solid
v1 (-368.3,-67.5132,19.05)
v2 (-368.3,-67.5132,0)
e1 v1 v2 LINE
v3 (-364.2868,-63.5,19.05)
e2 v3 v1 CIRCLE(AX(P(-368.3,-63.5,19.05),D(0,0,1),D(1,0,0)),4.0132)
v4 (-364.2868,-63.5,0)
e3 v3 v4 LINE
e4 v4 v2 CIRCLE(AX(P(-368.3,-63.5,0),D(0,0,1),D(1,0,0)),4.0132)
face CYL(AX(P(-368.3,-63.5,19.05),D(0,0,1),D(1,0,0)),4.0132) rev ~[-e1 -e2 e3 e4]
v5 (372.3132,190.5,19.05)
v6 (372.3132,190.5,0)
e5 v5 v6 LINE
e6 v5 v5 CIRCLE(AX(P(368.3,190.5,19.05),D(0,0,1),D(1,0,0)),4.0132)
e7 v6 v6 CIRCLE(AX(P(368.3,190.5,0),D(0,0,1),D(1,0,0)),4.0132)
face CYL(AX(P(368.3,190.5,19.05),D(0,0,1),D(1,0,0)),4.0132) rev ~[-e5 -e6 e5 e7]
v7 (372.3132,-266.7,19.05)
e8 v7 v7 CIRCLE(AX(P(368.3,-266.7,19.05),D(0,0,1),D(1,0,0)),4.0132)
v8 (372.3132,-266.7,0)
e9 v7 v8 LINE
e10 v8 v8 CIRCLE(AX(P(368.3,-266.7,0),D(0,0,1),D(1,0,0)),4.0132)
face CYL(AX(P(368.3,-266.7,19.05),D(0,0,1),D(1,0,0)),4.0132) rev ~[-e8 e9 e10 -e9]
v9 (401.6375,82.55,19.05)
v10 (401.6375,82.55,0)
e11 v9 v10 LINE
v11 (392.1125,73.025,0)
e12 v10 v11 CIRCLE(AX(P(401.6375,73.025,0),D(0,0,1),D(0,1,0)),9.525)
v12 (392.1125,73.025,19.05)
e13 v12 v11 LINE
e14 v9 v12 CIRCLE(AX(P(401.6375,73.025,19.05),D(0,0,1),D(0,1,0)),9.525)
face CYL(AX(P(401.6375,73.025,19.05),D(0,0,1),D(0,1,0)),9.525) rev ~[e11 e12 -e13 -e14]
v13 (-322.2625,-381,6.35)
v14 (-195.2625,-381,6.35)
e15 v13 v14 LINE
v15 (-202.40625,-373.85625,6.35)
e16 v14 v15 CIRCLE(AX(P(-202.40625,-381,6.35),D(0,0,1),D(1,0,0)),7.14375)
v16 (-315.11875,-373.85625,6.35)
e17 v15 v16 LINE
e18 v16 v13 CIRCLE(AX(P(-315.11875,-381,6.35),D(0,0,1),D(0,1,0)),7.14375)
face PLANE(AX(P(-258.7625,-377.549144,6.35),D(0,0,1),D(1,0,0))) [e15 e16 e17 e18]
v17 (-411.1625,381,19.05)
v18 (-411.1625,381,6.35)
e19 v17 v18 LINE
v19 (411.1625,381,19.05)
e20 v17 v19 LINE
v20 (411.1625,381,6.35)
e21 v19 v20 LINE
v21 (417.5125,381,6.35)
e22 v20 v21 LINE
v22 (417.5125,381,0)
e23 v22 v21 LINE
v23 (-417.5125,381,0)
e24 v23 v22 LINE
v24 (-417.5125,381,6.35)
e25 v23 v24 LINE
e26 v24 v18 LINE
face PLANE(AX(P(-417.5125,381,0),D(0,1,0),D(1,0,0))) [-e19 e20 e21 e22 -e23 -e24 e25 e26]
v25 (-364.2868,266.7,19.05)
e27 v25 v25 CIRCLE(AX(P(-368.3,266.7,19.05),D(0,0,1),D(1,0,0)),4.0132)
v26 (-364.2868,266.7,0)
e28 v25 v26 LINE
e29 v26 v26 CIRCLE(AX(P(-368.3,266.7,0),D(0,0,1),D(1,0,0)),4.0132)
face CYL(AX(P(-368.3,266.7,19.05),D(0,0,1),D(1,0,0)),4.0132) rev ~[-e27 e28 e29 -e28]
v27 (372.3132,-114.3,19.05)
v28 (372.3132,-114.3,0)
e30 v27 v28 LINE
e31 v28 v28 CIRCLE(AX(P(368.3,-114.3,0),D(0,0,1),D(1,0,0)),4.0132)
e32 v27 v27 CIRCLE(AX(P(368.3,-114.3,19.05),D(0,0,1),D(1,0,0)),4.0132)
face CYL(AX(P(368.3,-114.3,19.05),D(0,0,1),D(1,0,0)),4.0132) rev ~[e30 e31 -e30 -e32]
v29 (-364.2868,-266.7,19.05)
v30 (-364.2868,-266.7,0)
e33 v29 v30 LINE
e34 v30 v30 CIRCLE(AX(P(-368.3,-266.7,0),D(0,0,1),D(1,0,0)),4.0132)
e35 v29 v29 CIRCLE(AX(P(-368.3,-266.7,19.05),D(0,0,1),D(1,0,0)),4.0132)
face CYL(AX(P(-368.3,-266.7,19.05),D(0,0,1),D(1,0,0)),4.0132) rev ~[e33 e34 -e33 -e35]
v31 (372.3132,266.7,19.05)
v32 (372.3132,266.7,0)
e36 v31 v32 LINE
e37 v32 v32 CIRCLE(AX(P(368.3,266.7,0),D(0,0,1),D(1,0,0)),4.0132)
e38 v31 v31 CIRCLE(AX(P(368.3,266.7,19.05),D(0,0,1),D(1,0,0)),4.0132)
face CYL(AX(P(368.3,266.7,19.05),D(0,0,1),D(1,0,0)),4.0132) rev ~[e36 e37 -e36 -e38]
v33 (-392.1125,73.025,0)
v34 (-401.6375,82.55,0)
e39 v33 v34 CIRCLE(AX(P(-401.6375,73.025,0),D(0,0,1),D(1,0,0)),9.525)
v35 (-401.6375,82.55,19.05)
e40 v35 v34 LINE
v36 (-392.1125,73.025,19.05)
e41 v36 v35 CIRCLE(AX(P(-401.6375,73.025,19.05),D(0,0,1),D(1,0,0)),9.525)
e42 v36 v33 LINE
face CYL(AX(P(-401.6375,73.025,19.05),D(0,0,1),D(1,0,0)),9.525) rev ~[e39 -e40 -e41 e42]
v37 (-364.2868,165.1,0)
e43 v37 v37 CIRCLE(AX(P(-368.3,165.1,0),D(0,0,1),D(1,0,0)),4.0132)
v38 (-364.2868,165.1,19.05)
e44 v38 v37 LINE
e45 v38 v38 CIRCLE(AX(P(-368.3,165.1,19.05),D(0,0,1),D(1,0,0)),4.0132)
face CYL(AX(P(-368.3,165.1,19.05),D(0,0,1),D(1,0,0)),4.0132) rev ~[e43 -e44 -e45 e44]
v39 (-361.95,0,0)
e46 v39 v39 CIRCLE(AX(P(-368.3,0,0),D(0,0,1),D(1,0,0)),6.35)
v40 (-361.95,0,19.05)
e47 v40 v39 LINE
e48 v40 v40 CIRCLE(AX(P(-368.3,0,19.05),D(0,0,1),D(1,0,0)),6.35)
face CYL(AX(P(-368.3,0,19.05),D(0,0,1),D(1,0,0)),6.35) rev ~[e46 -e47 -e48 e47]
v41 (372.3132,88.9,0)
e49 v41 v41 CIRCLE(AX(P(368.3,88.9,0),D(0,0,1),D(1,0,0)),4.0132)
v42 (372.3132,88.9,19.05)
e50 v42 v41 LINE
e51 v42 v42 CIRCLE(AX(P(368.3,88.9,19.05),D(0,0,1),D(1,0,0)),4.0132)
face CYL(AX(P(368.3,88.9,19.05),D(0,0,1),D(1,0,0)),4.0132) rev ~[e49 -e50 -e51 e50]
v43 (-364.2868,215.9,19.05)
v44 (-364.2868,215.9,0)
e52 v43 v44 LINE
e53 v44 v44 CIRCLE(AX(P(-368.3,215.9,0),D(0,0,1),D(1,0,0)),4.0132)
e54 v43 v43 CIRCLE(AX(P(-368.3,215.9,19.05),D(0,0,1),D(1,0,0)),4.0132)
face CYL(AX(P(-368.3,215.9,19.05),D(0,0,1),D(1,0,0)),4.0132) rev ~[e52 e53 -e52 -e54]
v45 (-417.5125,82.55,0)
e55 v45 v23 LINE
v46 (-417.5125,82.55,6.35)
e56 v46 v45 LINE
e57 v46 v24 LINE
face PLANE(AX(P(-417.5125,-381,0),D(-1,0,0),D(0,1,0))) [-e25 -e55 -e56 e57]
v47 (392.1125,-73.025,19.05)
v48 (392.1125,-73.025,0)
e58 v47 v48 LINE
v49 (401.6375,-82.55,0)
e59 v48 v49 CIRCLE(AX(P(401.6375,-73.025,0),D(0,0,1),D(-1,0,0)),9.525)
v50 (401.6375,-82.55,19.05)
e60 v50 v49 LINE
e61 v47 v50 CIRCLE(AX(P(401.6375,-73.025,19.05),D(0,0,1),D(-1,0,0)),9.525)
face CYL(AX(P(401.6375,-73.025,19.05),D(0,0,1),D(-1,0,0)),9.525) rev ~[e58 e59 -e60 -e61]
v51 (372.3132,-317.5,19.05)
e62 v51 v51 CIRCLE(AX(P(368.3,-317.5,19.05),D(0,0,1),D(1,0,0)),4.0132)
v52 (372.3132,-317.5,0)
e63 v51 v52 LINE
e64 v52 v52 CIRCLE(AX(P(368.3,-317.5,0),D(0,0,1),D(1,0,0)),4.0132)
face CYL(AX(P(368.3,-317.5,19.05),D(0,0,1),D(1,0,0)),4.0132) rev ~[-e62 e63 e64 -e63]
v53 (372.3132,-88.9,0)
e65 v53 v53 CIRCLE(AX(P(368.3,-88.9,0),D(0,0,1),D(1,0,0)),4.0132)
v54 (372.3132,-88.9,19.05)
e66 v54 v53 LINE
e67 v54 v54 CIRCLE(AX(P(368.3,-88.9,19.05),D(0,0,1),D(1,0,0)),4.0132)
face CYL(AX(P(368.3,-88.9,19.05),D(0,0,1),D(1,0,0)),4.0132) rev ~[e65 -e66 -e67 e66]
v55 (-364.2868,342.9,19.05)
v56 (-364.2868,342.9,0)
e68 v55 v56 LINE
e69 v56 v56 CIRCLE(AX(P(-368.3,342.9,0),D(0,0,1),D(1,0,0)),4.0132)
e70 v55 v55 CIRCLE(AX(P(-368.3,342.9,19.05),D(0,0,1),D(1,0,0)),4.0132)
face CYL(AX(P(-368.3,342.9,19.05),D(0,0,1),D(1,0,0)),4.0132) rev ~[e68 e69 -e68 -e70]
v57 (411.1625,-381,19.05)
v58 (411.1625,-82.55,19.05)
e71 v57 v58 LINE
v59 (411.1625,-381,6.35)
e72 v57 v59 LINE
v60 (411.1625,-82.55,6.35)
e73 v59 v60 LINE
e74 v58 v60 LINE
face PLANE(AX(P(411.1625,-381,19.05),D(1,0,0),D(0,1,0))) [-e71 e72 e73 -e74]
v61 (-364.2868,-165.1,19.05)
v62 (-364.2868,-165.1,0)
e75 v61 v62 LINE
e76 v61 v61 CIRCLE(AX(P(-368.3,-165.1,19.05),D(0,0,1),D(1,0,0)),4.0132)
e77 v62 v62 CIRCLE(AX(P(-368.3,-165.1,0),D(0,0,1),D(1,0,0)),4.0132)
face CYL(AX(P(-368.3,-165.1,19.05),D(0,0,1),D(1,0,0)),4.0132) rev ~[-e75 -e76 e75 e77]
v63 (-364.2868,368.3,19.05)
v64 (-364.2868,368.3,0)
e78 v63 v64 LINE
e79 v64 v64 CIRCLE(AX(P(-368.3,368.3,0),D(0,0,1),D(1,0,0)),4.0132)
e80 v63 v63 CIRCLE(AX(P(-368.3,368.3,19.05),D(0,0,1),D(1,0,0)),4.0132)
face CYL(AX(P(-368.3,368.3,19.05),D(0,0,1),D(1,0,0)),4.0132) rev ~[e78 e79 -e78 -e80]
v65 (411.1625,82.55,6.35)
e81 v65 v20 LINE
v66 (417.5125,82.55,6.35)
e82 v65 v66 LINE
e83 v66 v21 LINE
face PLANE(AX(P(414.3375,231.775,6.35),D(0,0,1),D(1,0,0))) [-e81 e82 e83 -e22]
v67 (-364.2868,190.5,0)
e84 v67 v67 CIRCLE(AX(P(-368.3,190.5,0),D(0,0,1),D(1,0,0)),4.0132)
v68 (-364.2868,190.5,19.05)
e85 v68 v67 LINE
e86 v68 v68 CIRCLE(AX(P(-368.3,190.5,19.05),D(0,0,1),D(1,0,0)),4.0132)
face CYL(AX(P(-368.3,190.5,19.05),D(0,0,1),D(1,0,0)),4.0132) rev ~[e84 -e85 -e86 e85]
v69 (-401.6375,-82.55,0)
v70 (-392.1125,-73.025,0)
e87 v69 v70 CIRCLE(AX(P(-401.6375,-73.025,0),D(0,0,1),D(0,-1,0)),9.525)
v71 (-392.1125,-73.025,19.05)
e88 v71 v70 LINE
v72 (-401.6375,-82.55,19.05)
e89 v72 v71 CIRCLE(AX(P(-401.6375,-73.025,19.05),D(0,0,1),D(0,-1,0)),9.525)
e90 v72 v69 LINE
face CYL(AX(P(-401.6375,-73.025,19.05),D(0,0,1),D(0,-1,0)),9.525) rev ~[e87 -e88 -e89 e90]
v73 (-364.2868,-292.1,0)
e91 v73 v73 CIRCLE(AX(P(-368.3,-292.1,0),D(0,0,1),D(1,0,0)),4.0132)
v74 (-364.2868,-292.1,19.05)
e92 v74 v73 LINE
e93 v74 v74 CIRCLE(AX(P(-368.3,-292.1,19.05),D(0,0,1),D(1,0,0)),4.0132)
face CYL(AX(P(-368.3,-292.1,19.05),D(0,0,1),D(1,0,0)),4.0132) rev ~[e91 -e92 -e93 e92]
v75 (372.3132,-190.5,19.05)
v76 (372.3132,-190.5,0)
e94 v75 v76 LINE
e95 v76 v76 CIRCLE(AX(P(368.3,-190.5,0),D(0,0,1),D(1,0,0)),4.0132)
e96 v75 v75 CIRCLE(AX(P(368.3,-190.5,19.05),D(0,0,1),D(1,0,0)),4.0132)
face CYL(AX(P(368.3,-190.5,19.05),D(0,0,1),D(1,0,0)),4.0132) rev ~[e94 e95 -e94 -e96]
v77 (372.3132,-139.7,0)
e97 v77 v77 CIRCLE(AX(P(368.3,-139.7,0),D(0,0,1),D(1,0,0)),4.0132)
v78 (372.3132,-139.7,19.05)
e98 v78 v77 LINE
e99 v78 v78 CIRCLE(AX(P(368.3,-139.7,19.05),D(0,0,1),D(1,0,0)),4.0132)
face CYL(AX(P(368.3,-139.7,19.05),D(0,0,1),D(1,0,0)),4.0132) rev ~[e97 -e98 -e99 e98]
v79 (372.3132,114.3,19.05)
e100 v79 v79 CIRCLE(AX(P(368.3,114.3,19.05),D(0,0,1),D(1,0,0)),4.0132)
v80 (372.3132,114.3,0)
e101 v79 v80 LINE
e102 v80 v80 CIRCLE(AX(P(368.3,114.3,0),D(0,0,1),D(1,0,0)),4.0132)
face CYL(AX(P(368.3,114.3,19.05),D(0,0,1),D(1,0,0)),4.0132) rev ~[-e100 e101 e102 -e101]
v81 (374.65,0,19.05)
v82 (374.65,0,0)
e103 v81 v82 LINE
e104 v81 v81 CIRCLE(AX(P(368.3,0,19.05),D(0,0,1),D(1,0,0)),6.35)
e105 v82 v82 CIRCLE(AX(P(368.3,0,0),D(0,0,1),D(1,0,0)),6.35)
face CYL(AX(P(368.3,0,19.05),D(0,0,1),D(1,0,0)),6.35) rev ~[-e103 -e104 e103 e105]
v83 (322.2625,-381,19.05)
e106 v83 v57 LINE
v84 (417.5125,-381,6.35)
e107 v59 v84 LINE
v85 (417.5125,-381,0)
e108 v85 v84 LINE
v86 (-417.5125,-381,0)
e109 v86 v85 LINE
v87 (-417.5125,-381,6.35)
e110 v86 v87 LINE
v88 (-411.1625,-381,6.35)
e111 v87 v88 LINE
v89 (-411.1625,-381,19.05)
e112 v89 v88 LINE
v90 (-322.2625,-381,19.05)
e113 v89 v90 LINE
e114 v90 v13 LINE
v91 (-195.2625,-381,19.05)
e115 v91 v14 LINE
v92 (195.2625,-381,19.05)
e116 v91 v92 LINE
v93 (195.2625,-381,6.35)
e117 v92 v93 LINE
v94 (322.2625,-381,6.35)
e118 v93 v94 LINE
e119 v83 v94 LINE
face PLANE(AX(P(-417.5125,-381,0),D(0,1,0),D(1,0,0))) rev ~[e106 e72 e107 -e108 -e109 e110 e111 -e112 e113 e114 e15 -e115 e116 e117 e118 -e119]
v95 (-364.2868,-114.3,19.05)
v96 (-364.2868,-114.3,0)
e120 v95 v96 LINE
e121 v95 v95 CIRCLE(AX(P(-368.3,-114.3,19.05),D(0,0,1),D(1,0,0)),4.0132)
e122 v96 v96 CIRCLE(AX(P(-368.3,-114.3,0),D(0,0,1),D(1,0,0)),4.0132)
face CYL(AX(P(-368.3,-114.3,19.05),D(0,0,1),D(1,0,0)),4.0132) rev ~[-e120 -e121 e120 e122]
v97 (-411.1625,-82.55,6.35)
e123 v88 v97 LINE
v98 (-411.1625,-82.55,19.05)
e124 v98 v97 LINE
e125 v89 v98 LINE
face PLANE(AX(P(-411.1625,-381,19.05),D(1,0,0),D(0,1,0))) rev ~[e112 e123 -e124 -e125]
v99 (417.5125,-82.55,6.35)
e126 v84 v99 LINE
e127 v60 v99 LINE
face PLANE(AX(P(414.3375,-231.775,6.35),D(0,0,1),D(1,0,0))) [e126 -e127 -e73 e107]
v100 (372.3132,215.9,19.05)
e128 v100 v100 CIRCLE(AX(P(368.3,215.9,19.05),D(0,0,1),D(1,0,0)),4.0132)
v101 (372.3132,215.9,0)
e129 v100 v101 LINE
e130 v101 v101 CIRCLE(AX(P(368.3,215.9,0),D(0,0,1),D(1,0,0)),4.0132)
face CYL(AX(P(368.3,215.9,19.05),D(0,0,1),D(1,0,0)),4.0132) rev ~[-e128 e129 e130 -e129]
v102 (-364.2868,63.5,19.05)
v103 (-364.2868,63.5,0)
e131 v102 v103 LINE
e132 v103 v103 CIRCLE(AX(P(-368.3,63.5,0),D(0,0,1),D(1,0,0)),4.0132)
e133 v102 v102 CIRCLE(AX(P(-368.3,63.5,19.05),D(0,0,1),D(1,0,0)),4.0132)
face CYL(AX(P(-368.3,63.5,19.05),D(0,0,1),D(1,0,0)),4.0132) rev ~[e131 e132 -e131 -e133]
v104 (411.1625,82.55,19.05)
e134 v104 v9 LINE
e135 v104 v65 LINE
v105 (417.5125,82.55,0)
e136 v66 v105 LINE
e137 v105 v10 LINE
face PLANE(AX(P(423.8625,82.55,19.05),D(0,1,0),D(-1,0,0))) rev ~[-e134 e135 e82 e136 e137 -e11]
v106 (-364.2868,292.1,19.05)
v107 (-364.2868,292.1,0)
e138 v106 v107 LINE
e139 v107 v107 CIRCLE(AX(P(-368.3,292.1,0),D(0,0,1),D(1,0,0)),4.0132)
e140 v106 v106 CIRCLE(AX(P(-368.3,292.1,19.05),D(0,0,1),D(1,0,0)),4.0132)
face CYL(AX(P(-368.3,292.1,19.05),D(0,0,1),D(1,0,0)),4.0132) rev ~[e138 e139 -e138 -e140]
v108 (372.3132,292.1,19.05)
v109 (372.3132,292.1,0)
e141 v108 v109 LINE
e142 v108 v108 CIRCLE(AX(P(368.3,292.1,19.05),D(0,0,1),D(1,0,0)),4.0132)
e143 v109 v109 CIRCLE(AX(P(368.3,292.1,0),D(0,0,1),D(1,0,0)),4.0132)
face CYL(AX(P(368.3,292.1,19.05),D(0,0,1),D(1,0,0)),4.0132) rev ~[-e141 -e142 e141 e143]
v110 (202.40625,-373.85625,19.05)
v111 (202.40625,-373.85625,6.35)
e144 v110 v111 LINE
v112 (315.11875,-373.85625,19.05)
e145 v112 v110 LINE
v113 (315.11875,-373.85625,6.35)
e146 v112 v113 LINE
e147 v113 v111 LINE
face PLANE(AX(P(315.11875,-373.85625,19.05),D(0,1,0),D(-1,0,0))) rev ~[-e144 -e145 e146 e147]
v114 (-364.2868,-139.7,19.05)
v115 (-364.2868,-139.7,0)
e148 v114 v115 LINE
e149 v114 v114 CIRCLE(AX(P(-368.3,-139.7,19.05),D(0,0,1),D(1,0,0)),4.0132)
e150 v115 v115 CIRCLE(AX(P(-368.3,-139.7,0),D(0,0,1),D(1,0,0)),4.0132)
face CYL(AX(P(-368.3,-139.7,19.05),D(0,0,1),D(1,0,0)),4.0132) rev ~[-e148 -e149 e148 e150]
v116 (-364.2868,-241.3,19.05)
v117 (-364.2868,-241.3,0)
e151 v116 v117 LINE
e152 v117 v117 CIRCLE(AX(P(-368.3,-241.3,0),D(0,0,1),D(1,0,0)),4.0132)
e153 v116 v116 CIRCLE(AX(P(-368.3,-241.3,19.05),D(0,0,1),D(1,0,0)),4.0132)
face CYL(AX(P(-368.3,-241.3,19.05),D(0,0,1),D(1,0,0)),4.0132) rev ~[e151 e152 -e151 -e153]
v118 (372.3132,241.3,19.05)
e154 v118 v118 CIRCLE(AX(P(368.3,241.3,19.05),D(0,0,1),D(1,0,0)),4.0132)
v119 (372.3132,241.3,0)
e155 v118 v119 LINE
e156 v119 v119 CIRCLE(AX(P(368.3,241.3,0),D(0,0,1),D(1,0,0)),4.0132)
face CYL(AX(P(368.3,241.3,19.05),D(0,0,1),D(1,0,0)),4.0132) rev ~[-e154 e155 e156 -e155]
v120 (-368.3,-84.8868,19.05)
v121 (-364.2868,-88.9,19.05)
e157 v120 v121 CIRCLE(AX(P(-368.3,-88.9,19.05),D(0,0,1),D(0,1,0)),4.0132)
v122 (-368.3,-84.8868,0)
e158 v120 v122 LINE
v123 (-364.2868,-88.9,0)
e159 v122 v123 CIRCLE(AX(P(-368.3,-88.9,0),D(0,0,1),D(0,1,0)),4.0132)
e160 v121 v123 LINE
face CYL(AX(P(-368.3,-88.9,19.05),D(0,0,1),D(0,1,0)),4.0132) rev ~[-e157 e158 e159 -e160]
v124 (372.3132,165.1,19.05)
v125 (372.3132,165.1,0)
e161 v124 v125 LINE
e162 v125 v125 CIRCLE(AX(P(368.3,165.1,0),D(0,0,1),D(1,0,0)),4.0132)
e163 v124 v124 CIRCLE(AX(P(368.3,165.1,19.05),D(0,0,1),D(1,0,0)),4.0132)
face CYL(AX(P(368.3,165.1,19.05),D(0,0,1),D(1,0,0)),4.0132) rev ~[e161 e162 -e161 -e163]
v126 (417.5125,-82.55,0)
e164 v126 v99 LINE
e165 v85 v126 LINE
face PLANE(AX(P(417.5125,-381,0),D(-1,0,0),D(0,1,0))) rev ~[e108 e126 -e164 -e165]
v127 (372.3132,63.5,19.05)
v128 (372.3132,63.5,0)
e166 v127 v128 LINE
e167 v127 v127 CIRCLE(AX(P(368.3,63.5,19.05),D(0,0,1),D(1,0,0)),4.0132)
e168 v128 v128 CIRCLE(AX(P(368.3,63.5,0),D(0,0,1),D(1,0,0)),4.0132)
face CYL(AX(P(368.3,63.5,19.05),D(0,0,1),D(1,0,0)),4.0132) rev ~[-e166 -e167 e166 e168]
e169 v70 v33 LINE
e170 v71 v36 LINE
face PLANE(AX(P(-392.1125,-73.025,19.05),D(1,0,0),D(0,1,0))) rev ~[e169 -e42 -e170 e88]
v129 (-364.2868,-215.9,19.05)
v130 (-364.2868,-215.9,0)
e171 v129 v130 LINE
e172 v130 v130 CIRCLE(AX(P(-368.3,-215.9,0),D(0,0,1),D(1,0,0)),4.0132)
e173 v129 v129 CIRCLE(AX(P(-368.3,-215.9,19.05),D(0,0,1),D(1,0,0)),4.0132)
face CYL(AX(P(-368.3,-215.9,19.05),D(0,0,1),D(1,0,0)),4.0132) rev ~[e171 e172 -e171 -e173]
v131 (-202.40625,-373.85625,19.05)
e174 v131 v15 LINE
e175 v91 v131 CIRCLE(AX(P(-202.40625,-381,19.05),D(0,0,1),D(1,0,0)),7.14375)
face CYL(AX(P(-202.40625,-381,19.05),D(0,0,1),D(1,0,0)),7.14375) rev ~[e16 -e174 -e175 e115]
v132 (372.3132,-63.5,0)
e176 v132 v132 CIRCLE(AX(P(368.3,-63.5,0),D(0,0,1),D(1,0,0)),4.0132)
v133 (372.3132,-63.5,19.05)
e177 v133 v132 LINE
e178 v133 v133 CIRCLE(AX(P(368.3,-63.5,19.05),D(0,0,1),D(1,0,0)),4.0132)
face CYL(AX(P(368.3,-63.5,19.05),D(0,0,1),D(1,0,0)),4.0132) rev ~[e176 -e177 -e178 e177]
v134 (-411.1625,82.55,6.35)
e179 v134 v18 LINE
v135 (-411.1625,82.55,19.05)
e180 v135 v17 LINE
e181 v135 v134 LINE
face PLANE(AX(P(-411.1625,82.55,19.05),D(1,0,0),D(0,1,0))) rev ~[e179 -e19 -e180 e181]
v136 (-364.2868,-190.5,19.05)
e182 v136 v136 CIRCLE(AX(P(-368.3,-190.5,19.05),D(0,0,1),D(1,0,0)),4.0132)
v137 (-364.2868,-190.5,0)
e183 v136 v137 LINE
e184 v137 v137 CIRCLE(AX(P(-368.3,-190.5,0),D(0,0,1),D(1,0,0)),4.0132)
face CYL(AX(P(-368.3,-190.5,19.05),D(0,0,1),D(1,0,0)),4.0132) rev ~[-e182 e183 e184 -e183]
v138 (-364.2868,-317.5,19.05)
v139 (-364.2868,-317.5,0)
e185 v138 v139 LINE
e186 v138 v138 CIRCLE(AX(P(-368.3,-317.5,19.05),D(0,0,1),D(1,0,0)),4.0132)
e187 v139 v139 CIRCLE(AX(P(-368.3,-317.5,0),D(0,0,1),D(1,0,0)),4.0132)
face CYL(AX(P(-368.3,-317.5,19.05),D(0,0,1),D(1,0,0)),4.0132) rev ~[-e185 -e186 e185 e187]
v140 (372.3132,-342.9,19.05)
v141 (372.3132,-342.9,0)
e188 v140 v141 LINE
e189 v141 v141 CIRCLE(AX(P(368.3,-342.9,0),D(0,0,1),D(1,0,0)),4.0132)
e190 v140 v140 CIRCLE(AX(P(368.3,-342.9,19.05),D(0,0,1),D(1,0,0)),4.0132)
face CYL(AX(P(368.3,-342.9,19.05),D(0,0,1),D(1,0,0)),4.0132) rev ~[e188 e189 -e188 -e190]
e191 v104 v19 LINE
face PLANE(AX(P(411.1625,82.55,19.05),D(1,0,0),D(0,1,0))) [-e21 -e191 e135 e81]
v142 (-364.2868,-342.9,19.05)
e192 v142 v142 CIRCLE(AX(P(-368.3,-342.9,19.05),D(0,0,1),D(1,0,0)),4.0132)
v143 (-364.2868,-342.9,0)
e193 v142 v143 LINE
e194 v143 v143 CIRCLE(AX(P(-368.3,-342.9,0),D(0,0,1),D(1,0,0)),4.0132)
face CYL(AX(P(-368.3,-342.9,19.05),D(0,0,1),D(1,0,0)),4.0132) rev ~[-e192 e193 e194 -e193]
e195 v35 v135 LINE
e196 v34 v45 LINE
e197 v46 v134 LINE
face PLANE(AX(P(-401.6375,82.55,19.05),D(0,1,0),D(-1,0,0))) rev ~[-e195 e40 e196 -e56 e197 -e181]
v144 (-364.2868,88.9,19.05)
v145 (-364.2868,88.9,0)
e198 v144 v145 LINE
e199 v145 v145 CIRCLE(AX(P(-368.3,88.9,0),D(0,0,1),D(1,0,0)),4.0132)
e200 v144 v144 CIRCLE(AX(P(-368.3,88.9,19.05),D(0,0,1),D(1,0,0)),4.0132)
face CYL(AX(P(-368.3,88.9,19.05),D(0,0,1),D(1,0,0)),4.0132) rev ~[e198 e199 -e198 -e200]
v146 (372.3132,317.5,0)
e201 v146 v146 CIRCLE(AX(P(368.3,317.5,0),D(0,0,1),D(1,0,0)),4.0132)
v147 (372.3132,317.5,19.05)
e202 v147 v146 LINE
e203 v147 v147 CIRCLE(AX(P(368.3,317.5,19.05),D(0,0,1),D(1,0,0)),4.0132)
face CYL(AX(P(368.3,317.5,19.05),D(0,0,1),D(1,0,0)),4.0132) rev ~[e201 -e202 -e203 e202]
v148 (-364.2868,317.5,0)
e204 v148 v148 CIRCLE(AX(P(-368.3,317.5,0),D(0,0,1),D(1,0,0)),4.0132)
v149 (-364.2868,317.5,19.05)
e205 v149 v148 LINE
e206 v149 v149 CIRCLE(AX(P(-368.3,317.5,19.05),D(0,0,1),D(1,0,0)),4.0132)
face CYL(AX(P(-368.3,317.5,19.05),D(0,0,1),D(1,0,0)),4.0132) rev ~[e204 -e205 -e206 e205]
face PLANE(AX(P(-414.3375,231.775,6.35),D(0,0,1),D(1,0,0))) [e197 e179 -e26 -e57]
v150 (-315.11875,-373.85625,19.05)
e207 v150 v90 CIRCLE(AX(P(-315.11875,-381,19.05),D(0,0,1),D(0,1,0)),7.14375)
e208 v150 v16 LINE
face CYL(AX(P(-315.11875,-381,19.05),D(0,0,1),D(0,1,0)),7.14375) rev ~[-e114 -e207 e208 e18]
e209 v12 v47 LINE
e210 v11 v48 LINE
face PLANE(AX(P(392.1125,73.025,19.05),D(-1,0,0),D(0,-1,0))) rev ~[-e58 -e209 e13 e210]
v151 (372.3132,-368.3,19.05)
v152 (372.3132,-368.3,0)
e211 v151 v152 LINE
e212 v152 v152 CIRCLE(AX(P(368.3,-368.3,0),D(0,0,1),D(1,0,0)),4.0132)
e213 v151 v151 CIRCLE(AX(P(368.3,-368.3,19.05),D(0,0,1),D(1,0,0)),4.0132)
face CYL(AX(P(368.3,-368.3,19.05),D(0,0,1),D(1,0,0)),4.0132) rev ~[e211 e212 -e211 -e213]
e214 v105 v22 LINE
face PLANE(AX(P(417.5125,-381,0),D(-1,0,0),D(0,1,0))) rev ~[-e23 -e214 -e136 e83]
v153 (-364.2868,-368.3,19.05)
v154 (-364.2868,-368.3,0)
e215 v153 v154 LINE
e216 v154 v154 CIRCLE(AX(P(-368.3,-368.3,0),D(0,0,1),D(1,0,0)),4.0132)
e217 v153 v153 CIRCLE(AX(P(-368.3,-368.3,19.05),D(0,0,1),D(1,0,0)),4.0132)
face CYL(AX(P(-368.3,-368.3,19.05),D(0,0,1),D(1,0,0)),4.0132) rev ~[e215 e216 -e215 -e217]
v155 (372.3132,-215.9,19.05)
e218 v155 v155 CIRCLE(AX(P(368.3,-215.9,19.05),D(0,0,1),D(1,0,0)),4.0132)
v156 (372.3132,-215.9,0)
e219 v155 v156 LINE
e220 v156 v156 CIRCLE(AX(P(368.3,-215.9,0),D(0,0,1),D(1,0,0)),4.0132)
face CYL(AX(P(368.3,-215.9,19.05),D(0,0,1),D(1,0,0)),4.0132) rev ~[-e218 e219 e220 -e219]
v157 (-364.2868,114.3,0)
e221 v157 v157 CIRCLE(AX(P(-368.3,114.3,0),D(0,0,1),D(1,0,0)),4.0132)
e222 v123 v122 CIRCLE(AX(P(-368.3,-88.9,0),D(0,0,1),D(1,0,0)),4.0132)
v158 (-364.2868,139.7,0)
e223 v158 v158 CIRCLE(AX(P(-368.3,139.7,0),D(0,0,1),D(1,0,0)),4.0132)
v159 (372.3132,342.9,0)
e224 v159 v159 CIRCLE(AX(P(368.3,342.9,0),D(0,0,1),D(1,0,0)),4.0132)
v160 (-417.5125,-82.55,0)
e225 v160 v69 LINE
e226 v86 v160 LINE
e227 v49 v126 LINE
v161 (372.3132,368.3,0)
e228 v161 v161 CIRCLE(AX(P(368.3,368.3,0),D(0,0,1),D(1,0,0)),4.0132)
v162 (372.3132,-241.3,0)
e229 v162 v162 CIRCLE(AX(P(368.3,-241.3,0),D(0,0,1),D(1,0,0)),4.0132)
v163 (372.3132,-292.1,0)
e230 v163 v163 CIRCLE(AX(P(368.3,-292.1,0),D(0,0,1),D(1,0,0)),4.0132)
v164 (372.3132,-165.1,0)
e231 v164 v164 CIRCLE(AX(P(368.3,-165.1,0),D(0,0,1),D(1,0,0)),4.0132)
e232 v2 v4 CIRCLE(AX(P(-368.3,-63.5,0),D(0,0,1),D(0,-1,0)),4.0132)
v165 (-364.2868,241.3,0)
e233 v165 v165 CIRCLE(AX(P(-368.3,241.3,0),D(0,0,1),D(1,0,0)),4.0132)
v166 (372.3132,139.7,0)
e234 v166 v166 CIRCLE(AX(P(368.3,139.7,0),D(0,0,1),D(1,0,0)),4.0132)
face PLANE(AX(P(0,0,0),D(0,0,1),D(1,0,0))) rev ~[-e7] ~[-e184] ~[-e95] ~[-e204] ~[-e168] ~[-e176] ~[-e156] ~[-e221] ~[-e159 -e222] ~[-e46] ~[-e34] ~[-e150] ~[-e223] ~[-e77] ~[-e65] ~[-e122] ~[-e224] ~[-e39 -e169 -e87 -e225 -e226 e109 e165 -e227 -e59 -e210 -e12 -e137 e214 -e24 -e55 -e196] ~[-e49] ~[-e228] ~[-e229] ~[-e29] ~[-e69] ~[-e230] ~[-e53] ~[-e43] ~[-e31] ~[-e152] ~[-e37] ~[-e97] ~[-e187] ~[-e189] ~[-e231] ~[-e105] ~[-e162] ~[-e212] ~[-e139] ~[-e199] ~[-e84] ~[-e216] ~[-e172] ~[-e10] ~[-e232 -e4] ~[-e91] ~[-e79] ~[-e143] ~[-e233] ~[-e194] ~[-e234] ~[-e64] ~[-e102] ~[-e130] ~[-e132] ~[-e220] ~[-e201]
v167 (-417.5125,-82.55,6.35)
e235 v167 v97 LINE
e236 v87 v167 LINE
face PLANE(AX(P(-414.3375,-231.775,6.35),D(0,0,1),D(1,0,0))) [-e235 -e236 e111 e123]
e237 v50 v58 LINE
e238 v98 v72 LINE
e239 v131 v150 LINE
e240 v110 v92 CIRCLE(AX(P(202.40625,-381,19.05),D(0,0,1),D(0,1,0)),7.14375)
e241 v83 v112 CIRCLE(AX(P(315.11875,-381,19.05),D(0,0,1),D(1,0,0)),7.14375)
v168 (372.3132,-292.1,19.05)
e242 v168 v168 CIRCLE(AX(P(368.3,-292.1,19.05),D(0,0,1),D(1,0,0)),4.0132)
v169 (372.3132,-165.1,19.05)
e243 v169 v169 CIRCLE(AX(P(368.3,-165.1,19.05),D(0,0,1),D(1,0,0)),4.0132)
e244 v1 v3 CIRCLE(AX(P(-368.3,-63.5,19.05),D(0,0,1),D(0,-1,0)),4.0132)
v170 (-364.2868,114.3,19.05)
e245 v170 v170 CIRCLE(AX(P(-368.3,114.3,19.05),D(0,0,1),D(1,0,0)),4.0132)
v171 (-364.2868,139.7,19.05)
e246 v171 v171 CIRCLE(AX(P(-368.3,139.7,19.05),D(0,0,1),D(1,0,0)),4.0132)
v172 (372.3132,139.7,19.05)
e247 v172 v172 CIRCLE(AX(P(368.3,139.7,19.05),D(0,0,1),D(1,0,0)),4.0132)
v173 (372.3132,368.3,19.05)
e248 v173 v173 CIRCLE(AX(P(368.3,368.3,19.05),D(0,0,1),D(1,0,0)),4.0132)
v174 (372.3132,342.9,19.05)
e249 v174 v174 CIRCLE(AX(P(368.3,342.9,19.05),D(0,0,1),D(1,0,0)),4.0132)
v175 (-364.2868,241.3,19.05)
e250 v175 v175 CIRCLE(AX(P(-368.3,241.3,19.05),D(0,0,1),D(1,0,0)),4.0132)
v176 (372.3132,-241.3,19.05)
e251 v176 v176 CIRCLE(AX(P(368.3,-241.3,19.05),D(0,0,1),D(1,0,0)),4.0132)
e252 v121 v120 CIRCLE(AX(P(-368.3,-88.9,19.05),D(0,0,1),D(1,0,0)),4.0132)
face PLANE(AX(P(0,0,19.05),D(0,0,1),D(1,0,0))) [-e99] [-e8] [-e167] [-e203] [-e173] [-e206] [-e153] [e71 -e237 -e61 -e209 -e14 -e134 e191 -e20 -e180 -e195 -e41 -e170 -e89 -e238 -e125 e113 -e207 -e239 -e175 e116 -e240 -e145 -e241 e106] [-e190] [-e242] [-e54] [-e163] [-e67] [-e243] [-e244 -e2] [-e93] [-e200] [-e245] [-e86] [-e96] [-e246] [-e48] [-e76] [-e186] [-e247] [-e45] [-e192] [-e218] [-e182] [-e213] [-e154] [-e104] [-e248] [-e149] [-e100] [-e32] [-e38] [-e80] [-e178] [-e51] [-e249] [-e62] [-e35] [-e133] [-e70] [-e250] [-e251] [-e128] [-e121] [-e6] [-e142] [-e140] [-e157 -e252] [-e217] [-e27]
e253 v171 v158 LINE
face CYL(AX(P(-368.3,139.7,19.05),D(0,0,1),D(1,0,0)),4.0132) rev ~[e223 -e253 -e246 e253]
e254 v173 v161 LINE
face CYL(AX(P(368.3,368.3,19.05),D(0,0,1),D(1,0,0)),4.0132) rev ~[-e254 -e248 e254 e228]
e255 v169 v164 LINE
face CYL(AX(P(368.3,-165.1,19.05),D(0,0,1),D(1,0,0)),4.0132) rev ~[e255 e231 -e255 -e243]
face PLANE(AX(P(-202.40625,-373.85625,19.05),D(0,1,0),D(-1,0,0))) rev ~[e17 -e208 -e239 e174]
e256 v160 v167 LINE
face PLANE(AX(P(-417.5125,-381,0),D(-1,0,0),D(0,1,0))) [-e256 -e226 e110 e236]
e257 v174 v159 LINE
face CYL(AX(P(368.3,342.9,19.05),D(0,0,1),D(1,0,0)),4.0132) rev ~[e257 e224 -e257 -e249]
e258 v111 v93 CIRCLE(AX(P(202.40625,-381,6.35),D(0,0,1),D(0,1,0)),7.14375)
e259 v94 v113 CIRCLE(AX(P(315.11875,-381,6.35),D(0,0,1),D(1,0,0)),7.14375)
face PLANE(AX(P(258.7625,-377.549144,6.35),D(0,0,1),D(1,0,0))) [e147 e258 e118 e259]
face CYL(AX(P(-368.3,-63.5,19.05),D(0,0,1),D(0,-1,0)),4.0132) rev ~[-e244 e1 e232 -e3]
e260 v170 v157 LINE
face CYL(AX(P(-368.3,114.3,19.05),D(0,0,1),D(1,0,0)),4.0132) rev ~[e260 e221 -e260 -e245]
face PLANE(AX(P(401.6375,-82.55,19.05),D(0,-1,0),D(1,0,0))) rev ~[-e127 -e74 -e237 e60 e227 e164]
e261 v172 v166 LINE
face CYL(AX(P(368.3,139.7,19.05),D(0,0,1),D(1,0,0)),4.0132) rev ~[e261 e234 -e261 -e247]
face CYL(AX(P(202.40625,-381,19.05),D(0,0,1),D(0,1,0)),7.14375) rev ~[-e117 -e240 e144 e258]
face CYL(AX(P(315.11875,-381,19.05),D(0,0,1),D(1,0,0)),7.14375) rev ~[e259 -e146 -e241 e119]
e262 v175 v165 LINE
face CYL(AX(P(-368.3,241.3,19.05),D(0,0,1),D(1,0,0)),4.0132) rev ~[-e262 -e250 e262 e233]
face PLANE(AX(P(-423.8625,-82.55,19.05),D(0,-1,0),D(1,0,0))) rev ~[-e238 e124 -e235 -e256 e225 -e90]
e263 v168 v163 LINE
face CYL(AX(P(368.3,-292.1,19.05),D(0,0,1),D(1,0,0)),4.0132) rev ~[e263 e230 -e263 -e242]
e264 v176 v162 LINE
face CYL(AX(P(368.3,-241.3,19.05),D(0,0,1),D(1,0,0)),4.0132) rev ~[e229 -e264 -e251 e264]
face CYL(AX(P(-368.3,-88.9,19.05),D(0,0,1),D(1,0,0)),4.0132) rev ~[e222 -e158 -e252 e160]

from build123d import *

# Parameters (mm, degrees)
F0_W     = 835.025
F0_H     = 762
F1_DEPTH = 19.05
F2_W     = 6.35
F2_H     = 165.1
F3_DEPTH = 19.051
F2_H_2   = 298.45
F4_DEPTH = 12.7
F5_R     = 4.0132
F5_R_2   = 6.35
F6_DEPTH = 25.4


with BuildPart() as f1:
    # F0 (on Top) → F1 (new body)
    with BuildSketch(Plane.XY):
        Rectangle(F0_W, F0_H)
    extrude(amount=F1_DEPTH)

    # F2 (on face) → F3 (cut, through all)
    with BuildSketch(Plane.XY.offset(19.05)):
        with Locations((-420.6875, 0)):
            Rectangle(F2_W, F2_H)
        with Locations((-414.3375, 0)):
            Rectangle(F2_W, F2_H)
        with BuildLine():
            Line((-401.6375, 82.55), (-411.1625, 82.55))
            Line((-411.1625, 82.55), (-411.1625, -82.55))
            Line((-411.1625, -82.55), (-401.6375, -82.55))
            ThreePointArc((-401.6375, -82.55), (-394.9023079092, -79.7601920908), (-392.1125, -73.025))
            Line((-392.1125, -73.025), (-392.1125, 73.025))
            ThreePointArc((-392.1125, 73.025), (-394.9023079092, 79.7601920908), (-401.6375, 82.55))
        make_face()
        with BuildLine():
            Line((411.1625, -82.55), (411.1625, 82.55))
            Line((411.1625, 82.55), (401.6375, 82.55))
            ThreePointArc((401.6375, 82.55), (394.9023079092, 79.7601920908), (392.1125, 73.025))
            Line((392.1125, 73.025), (392.1125, -73.025))
            ThreePointArc((392.1125, -73.025), (394.9023079092, -79.7601920908), (401.6375, -82.55))
            Line((401.6375, -82.55), (411.1625, -82.55))
        make_face()
        with Locations((420.6875, 0)):
            Rectangle(F2_W, F2_H)
        with Locations((414.3375, 0)):
            Rectangle(F2_W, F2_H)
    extrude(amount=-F3_DEPTH, mode=Mode.SUBTRACT)

    # F2 (on face) → F4 (cut)
    with BuildSketch(Plane.XY.offset(19.05)):
        with Locations((-414.3375, 231.775)):
            Rectangle(F2_W, F2_H_2)
        with Locations((-414.3375, -231.775)):
            Rectangle(F2_W, F2_H_2)
        with Locations((414.3375, 231.775)):
            Rectangle(F2_W, F2_H_2)
        with Locations((414.3375, -231.775)):
            Rectangle(F2_W, F2_H_2)
        with BuildLine():
            ThreePointArc((202.40625, -373.85625), (197.3548559319, -375.9486059319), (195.2625, -381))
            Line((195.2625, -381), (322.2625, -381))
            ThreePointArc((322.2625, -381), (320.1701440681, -375.9486059319), (315.11875, -373.85625))
            Line((315.11875, -373.85625), (202.40625, -373.85625))
        make_face()
        with BuildLine():
            ThreePointArc((-315.11875, -373.85625), (-320.1701440681, -375.9486059319), (-322.2625, -381))
            Line((-322.2625, -381), (-195.2625, -381))
            ThreePointArc((-195.2625, -381), (-197.3548559319, -375.9486059319), (-202.40625, -373.85625))
            Line((-202.40625, -373.85625), (-315.11875, -373.85625))
        make_face()
    extrude(amount=-F4_DEPTH, mode=Mode.SUBTRACT)

    # F5 (on face) → F6 (cut)
    with BuildSketch(Plane.XY.offset(19.05)):
        with Locations((-368.3, 63.5)):
            Circle(F5_R)
        with Locations((-368.3, 88.9)):
            Circle(F5_R)
        with Locations((-368.3, 114.3)):
            Circle(F5_R)
        with Locations((-368.3, 139.7)):
            Circle(F5_R)
        with Locations((-368.3, 165.1)):
            Circle(F5_R)
        with Locations((-368.3, 190.5)):
            Circle(F5_R)
        with Locations((-368.3, 215.9)):
            Circle(F5_R)
        with Locations((-368.3, 241.3)):
            Circle(F5_R)
        with Locations((-368.3, 266.7)):
            Circle(F5_R)
        with Locations((-368.3, 292.1)):
            Circle(F5_R)
        with Locations((-368.3, 317.5)):
            Circle(F5_R)
        with Locations((-368.3, 342.9)):
            Circle(F5_R)
        with Locations((-368.3, 368.3)):
            Circle(F5_R)
        with Locations((368.3, 317.5)):
            Circle(F5_R)
        with Locations((368.3, 292.1)):
            Circle(F5_R)
        with Locations((368.3, 266.7)):
            Circle(F5_R)
        with Locations((368.3, 241.3)):
            Circle(F5_R)
        with Locations((368.3, 215.9)):
            Circle(F5_R)
        with Locations((368.3, 190.5)):
            Circle(F5_R)
        with Locations((368.3, 165.1)):
            Circle(F5_R)
        with Locations((368.3, 139.7)):
            Circle(F5_R)
        with Locations((368.3, 114.3)):
            Circle(F5_R)
        with Locations((368.3, 368.3)):
            Circle(F5_R)
        with Locations((368.3, 342.9)):
            Circle(F5_R)
        with Locations((368.3, 88.9)):
            Circle(F5_R)
        with Locations((368.3, 63.5)):
            Circle(F5_R)
        with BuildLine():
            Line((-368.3, -63.5), (-364.2868, -63.5))
            ThreePointArc((-364.2868, -63.5), (-371.1377609343, -60.6622390657), (-368.3, -67.5132))
            Line((-368.3, -67.5132), (-368.3, -63.5))
        make_face()
        with BuildLine():
            ThreePointArc((-364.2868, -88.9), (-365.4622390657, -86.0622390657), (-368.3, -84.8868))
            ThreePointArc((-368.3, -84.8868), (-371.1377609343, -91.7377609343), (-364.2868, -88.9))
        make_face()
        with BuildLine():
            ThreePointArc((-368.3, -67.5132), (-365.4622390657, -66.3377609343), (-364.2868, -63.5))
            Line((-364.2868, -63.5), (-368.3, -63.5))
            Line((-368.3, -63.5), (-368.3, -67.5132))
        make_face()
        with Locations((-368.3, -317.5)):
            Circle(F5_R)
        with Locations((-368.3, -292.1)):
            Circle(F5_R)
        with Locations((-368.3, -266.7)):
            Circle(F5_R)
        with Locations((-368.3, -241.3)):
            Circle(F5_R)
        with Locations((-368.3, -215.9)):
            Circle(F5_R)
        with Locations((368.3, -292.1)):
            Circle(F5_R)
        with Locations((-368.3, -190.5)):
            Circle(F5_R)
        with Locations((-368.3, -165.1)):
            Circle(F5_R)
        with Locations((-368.3, -139.7)):
            Circle(F5_R)
        with Locations((368.3, -190.5)):
            Circle(F5_R)
        with Locations((-368.3, -114.3)):
            Circle(F5_R)
        with Locations((368.3, -368.3)):
            Circle(F5_R)
        with Locations((368.3, -266.7)):
            Circle(F5_R)
        with Locations((368.3, -342.9)):
            Circle(F5_R)
        with Locations((368.3, -63.5)):
            Circle(F5_R)
        with Locations((368.3, -241.3)):
            Circle(F5_R)
        with Locations((368.3, -165.1)):
            Circle(F5_R)
        with Locations((368.3, -317.5)):
            Circle(F5_R)
        with Locations((368.3, -88.9)):
            Circle(F5_R)
        with Locations((368.3, -139.7)):
            Circle(F5_R)
        with Locations((368.3, -215.9)):
            Circle(F5_R)
        with Locations((-368.3, -342.9)):
            Circle(F5_R)
        with Locations((-368.3, -368.3)):
            Circle(F5_R)
        with Locations((368.3, -114.3)):
            Circle(F5_R)
        with Locations((-368.3, 0)):
            Circle(F5_R_2)
        with Locations((368.3, 0)):
            Circle(F5_R_2)
    extrude(amount=-F6_DEPTH, mode=Mode.SUBTRACT)


solid = f1.part
